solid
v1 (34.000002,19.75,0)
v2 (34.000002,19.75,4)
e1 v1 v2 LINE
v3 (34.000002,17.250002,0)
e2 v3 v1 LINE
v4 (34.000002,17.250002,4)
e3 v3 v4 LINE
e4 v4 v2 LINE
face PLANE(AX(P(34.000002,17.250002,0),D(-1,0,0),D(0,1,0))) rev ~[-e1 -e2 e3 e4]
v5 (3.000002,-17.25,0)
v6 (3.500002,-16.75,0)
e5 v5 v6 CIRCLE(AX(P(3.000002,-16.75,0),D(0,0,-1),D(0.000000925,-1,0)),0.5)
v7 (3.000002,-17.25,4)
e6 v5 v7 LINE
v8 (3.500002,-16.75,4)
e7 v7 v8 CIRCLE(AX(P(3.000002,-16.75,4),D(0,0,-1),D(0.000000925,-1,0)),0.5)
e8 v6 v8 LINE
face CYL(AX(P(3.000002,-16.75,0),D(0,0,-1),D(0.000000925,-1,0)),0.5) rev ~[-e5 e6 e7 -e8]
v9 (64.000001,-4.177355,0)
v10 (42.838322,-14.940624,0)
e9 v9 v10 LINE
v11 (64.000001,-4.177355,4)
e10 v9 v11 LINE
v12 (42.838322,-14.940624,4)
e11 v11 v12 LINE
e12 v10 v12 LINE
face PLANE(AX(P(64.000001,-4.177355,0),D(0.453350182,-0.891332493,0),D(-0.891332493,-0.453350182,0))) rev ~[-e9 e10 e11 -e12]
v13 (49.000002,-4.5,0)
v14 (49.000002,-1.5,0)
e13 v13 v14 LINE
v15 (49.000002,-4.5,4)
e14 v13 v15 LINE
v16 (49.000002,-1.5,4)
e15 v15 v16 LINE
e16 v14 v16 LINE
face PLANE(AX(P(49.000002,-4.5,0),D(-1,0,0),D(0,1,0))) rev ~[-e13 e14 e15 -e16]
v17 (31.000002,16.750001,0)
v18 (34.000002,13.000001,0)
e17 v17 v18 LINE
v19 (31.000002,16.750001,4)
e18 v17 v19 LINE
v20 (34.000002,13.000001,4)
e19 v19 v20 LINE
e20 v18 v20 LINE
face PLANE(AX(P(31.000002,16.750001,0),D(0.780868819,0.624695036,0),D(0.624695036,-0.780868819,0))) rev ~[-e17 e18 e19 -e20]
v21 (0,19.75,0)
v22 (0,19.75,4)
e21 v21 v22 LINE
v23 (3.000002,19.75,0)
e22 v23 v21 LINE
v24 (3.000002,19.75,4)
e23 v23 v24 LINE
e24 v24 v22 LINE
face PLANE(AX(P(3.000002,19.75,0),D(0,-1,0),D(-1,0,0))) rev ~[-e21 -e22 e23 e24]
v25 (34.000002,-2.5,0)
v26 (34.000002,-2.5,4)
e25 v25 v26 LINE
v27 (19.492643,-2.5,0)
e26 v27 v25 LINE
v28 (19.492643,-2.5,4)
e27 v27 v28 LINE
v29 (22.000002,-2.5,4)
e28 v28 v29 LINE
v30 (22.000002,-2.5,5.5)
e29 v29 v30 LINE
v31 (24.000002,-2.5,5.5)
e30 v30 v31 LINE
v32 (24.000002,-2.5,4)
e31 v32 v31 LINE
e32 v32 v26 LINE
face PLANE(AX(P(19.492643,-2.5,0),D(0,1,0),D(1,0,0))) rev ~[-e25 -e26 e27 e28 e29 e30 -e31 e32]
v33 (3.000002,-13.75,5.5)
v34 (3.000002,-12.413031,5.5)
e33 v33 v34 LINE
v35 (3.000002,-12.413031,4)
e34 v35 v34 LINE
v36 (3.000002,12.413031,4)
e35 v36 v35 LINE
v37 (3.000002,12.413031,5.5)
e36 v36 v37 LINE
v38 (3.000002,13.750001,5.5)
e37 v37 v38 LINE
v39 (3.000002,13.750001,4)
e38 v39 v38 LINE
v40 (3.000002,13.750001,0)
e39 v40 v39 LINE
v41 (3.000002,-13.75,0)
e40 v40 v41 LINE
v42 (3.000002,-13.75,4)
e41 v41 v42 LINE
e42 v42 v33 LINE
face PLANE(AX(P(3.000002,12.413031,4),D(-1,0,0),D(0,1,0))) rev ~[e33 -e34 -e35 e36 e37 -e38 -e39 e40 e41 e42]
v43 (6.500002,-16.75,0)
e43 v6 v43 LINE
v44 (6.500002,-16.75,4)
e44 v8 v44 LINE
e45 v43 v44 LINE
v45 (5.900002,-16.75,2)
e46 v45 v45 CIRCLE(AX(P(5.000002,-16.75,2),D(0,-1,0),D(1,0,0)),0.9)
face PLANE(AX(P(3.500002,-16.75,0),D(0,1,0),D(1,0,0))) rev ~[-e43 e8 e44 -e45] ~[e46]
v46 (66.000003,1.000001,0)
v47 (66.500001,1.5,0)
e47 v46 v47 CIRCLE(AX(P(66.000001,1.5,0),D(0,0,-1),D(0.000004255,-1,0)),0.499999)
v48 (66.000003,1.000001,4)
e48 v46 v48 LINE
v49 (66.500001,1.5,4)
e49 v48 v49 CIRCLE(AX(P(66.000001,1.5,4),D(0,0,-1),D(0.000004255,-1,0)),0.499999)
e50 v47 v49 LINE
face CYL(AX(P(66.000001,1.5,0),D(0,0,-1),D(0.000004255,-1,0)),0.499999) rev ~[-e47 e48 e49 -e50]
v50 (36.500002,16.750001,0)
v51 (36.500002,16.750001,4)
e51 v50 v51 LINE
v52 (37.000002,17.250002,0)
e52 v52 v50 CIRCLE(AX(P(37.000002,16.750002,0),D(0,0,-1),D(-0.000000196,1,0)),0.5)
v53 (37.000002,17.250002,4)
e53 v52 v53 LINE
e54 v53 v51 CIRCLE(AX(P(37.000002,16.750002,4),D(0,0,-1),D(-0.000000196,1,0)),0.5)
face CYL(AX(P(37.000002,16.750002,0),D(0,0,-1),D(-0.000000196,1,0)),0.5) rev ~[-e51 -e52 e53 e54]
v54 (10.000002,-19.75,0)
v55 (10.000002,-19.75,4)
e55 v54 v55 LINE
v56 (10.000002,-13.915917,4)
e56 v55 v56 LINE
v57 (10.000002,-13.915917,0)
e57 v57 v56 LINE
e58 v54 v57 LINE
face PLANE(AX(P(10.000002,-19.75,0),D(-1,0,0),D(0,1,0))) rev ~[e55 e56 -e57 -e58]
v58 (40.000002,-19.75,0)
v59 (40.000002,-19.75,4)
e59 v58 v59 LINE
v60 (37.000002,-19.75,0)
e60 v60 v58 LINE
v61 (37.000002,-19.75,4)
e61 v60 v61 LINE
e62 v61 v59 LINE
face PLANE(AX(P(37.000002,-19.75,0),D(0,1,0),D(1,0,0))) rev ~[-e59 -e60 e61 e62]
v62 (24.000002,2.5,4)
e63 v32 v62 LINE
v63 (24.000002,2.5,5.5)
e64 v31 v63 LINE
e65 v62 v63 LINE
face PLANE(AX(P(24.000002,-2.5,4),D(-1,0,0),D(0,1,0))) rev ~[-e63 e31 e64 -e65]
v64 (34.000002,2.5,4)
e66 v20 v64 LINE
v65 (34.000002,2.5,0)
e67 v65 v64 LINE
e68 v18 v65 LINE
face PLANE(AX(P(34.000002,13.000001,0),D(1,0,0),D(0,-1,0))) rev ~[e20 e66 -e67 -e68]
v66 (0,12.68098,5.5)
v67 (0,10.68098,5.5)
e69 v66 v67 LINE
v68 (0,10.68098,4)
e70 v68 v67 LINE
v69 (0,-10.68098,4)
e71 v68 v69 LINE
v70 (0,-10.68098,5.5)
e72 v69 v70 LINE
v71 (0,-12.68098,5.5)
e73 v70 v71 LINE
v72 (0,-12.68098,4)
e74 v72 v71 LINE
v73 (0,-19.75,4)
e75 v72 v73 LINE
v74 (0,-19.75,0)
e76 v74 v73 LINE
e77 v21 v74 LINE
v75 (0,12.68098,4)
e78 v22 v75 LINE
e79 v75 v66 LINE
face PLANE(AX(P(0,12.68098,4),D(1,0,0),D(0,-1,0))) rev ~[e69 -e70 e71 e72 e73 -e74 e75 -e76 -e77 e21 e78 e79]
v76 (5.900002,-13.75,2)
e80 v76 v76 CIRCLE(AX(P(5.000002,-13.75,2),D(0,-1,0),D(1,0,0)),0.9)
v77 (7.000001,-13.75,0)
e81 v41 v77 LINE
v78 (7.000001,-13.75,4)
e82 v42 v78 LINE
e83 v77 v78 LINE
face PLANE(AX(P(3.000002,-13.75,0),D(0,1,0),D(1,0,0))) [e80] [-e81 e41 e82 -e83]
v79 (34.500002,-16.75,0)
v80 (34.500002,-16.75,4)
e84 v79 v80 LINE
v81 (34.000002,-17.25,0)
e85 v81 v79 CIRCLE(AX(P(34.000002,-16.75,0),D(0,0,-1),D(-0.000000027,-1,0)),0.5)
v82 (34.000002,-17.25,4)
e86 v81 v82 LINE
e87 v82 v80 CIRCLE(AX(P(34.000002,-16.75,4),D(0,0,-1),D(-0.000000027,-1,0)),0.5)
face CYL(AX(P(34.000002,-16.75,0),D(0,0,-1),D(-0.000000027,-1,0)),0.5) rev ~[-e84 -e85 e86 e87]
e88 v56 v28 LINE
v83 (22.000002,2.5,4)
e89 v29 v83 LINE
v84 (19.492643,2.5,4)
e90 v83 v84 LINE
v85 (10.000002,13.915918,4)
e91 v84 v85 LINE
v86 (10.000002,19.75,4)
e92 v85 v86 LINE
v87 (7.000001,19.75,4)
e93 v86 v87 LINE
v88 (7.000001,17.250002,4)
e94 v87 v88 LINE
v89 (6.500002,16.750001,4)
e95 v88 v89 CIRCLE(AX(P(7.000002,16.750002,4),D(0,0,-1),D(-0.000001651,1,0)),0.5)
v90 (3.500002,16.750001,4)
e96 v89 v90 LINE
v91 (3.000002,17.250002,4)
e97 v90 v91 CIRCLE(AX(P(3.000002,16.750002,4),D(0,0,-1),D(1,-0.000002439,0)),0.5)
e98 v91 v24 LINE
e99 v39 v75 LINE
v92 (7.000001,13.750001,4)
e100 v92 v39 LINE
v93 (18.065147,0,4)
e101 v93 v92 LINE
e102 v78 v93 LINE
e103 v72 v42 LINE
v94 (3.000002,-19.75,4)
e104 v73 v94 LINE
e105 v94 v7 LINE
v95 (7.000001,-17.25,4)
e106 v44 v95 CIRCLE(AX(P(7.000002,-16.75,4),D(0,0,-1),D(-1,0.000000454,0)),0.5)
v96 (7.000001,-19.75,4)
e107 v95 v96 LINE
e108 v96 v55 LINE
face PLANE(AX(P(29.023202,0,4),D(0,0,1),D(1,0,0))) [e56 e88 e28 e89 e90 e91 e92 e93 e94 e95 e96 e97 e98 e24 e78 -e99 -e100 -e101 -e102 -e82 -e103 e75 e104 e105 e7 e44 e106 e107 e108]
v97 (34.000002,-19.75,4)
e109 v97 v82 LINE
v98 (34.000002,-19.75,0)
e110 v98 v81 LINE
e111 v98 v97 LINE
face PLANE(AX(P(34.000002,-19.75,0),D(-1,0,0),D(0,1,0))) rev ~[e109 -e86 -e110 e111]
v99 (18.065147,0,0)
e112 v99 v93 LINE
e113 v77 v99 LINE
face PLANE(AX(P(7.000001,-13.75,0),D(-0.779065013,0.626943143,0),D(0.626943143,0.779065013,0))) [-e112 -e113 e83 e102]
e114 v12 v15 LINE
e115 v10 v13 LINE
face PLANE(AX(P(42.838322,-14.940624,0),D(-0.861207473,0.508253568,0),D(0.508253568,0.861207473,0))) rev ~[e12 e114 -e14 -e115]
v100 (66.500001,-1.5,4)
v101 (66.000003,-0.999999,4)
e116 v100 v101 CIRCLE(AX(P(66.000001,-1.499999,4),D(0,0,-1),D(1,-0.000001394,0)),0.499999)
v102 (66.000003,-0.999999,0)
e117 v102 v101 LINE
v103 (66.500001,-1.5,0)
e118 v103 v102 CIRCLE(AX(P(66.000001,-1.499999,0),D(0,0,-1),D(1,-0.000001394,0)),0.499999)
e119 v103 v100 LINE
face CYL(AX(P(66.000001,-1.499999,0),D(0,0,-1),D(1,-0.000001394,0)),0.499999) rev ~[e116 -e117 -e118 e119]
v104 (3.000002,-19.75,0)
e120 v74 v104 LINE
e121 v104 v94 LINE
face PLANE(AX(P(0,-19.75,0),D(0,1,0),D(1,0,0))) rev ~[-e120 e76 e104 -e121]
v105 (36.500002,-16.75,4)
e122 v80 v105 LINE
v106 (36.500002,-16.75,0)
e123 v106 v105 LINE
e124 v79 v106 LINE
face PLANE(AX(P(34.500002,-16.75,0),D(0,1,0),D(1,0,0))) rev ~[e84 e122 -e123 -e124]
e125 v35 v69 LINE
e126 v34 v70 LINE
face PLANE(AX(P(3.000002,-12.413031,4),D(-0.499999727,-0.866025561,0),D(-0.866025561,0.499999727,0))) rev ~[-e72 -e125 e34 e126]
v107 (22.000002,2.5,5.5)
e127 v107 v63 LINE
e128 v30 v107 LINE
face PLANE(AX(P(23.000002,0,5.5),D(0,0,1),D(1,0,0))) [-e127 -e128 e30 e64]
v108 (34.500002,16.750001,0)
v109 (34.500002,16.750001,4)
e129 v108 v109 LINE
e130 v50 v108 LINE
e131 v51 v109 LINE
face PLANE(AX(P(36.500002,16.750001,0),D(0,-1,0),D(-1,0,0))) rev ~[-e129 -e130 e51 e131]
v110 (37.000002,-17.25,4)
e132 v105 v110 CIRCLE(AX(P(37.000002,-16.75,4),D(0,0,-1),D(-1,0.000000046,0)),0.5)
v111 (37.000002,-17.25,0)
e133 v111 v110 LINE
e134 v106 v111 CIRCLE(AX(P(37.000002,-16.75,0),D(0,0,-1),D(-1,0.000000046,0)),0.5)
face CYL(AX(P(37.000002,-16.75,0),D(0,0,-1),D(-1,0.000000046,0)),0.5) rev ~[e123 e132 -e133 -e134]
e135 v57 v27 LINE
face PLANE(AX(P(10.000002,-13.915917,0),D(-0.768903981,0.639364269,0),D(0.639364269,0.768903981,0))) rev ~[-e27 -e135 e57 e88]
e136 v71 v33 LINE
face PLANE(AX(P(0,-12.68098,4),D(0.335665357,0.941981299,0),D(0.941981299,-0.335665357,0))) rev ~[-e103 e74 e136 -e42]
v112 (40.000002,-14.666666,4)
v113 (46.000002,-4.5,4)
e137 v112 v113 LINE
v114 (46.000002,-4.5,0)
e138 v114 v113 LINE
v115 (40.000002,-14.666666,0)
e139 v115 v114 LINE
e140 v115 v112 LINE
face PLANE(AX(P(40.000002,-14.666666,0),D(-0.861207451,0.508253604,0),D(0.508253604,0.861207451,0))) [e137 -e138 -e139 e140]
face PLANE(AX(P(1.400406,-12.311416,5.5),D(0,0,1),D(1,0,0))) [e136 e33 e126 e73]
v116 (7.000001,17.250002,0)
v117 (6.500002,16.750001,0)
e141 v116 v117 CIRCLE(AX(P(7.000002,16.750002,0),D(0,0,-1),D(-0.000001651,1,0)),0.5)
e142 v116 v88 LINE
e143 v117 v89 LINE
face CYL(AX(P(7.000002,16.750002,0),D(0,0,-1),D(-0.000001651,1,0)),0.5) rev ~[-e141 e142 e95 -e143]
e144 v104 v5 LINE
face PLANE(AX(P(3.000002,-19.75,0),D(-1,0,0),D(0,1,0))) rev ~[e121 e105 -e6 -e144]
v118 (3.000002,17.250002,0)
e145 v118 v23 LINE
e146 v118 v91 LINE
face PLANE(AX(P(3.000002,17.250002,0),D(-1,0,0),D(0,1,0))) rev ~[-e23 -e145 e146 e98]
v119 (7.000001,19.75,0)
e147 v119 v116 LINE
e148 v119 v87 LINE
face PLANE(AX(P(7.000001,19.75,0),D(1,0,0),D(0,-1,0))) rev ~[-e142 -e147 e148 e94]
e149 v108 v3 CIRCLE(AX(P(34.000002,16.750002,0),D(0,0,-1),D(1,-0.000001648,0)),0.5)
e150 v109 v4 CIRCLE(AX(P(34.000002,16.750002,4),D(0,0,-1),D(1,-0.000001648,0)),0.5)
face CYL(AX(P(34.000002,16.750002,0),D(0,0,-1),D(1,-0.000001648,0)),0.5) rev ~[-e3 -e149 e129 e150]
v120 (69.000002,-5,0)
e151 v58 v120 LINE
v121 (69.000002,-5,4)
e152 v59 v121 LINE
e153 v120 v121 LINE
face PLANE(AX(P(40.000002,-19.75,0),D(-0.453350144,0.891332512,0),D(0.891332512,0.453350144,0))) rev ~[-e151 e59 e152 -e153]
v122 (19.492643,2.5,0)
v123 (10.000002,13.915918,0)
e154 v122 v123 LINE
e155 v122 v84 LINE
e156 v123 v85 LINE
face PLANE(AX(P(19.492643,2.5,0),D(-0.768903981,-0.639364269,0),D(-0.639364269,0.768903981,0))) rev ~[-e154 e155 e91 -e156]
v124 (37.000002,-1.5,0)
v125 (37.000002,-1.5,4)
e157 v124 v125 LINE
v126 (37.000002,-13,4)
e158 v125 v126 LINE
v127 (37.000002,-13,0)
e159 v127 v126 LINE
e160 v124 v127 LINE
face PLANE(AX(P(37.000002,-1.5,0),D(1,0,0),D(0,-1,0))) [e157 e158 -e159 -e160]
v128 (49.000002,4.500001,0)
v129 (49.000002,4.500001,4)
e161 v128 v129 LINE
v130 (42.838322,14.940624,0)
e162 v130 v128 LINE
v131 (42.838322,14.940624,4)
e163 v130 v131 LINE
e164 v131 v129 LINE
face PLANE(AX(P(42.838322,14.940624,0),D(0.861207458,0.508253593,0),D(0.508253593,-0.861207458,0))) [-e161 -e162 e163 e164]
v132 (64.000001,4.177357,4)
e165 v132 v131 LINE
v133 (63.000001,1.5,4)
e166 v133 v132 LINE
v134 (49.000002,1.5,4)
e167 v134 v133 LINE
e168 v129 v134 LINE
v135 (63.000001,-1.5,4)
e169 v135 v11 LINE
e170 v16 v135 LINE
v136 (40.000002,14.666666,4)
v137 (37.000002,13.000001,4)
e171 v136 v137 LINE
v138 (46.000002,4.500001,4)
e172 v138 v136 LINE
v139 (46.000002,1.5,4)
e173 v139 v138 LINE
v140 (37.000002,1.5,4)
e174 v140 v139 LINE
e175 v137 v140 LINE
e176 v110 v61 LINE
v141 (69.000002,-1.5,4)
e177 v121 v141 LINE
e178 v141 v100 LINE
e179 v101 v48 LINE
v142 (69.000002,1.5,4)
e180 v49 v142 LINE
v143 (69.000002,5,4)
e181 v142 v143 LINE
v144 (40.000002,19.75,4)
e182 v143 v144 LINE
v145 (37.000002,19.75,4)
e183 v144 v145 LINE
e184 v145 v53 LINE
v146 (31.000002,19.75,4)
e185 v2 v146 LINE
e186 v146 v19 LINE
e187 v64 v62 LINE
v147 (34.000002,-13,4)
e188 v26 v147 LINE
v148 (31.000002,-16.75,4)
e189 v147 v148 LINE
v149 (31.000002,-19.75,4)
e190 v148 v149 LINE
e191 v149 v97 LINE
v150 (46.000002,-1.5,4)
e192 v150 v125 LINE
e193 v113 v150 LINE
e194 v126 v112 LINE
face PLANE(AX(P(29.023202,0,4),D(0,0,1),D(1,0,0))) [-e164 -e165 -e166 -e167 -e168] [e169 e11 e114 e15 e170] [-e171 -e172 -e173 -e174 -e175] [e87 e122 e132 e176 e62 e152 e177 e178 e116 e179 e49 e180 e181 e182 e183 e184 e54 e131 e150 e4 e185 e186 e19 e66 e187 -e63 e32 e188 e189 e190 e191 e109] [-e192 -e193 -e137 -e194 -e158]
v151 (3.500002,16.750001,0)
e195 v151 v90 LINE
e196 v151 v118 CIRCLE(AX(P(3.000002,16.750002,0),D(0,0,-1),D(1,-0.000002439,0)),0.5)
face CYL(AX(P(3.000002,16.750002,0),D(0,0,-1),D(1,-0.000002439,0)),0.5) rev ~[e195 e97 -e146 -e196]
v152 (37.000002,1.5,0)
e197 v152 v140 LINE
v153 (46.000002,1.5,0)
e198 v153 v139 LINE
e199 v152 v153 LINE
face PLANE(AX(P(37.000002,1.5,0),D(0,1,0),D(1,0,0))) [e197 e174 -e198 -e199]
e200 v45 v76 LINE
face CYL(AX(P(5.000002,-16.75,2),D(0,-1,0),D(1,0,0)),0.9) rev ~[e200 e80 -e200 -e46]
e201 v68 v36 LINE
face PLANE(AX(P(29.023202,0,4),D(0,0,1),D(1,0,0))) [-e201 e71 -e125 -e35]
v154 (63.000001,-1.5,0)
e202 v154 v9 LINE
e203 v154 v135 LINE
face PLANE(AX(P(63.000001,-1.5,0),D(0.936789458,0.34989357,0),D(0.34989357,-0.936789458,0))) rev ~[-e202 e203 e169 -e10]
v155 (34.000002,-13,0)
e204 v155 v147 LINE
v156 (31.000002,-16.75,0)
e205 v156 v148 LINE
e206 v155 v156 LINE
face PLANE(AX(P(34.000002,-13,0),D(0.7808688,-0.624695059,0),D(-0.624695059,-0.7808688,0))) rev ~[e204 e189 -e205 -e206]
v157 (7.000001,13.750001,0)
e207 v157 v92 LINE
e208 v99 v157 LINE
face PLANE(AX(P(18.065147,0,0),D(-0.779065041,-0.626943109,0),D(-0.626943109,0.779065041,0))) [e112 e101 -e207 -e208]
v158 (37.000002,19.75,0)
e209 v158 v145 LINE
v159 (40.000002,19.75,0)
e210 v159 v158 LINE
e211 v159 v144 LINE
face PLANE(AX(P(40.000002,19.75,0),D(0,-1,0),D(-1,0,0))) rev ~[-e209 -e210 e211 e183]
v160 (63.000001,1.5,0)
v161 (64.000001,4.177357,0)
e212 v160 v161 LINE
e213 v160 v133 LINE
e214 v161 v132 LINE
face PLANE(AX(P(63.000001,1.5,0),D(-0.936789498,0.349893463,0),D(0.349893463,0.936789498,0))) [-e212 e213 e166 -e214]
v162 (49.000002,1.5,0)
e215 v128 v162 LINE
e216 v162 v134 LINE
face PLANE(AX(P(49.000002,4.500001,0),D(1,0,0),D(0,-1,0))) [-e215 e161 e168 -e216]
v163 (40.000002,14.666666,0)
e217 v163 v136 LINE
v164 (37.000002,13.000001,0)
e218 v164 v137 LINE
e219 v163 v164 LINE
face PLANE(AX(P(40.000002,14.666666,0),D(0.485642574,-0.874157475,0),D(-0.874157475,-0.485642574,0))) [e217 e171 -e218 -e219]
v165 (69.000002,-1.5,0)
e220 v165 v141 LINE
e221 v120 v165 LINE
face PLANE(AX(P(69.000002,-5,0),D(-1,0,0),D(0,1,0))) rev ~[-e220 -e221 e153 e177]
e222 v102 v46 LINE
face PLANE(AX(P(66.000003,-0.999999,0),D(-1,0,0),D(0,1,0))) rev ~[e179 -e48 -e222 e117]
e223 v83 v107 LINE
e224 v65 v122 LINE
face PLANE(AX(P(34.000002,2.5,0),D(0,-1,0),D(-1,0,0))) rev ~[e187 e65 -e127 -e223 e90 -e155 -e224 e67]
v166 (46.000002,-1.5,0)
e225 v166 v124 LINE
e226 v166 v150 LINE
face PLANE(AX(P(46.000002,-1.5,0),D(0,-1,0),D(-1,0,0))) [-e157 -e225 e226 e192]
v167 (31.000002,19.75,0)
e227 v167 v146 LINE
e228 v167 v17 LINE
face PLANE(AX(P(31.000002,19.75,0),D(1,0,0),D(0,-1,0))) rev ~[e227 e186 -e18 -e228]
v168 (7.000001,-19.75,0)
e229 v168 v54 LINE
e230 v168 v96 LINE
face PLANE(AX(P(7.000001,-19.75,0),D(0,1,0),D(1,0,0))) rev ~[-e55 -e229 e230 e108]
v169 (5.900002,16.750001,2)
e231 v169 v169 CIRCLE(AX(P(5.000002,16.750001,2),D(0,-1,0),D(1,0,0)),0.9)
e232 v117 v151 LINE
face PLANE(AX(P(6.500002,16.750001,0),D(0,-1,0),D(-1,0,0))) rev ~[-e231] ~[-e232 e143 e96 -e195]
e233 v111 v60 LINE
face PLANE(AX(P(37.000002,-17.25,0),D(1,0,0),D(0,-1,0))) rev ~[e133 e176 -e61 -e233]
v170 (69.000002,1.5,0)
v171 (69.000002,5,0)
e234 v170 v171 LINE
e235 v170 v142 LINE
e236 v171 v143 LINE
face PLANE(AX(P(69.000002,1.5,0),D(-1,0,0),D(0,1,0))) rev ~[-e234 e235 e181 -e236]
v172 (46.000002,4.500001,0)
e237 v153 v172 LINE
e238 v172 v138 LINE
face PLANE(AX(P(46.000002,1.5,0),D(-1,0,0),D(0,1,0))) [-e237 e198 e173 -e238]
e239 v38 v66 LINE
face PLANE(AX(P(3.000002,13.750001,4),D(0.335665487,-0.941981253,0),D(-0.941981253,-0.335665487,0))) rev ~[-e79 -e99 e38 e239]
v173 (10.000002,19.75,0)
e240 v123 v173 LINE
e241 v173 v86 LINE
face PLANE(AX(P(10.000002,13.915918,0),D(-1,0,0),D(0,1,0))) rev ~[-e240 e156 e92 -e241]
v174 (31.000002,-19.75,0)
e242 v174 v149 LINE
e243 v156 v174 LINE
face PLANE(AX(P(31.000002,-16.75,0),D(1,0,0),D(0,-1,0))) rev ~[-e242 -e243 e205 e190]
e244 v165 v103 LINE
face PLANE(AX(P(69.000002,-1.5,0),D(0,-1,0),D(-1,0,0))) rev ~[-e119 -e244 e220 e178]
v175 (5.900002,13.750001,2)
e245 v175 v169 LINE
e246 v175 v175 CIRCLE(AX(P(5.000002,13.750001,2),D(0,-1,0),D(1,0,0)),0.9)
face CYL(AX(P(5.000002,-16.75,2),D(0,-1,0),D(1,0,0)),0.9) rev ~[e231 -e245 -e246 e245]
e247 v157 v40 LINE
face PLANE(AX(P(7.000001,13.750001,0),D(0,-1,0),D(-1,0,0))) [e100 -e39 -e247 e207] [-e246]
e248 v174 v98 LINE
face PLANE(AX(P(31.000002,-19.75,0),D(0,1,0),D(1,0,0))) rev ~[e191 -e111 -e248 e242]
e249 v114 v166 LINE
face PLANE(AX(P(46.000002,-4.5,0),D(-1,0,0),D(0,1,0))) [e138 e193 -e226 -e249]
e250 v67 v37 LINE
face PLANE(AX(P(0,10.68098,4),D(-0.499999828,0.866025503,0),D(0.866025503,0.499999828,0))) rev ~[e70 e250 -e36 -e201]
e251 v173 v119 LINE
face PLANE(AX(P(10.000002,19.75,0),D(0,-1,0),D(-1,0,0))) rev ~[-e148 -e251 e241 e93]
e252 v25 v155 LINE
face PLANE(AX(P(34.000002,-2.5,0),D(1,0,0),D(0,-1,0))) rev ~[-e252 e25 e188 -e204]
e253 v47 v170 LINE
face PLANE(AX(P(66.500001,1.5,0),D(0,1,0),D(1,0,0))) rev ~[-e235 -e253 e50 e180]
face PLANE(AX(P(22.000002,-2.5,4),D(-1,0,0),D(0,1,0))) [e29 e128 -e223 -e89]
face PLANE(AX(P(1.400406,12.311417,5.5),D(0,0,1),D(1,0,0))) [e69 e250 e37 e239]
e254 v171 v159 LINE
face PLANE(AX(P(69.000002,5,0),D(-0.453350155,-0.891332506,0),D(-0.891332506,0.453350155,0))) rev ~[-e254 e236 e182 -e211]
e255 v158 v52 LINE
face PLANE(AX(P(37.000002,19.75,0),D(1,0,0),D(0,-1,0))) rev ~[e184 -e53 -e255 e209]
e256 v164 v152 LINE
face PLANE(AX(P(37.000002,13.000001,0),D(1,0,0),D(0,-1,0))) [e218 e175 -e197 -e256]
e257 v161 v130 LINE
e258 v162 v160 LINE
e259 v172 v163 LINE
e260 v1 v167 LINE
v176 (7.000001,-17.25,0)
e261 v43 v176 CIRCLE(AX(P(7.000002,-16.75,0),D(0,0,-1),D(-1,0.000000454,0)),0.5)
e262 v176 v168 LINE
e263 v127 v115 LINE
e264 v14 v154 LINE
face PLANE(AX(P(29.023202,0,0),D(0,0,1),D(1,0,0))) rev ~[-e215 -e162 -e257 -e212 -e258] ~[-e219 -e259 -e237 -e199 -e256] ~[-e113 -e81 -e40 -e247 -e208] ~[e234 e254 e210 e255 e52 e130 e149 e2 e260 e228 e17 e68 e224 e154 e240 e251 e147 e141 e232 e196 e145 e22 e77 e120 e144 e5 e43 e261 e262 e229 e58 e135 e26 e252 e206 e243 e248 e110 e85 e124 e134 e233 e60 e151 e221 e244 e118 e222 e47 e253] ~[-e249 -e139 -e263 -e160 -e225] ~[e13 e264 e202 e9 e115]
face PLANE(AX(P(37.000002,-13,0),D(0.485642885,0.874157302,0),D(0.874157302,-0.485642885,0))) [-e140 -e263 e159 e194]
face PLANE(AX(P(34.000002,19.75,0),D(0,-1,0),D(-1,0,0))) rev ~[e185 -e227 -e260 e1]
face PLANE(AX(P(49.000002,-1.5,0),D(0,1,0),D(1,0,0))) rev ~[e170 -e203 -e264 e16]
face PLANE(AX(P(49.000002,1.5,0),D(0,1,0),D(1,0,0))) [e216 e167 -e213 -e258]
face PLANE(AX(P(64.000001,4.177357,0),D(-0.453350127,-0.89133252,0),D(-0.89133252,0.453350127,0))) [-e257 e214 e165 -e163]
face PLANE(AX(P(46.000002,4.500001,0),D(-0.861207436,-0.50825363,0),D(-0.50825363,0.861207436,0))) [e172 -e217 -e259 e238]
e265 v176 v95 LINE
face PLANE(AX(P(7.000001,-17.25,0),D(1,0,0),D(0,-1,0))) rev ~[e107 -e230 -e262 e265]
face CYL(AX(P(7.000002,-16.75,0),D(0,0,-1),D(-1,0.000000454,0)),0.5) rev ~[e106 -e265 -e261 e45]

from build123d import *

# Parameters (mm, degrees)
EXTRUDE_1_DEPTH     = 4
SKETCH_2_R          = 0.9
CUT_EXTRUDE_1_DEPTH = 52
SKETCH_3_W          = 2.000000328
SKETCH_3_H          = 4.999999888
EXTRUDE_2_DEPTH     = 1.5


with BuildPart() as part:
    # 草图1 → 凸台-拉伸1 (new body)
    with BuildSketch(Plane.XY):
        with BuildLine():
            Line((66.000003368, -0.999999465), (66.000003368, 1.000000862))
            ThreePointArc((66.000003368, 1.000000862), (65.646447605, 1.853552596), (66.500000656, 1.500000013))
            Line((66.500000656, 1.500000013), (69.000001997, 1.500000013))
            Line((69.000001997, 1.500000013), (69.000001997, 4.999999655))
            Line((69.000001997, 4.999999655), (40.0000019, 19.749999745))
            Line((40.0000019, 19.749999745), (37.000001874, 19.749999745))
            Line((37.000001874, 19.749999745), (37.000001874, 17.250002129))
            ThreePointArc((37.000001874, 17.250002129), (37.353555819, 16.396448761), (36.500001792, 16.750001116))
            Line((36.500001792, 16.750001116), (34.500001871, 16.750001116))
            ThreePointArc((34.500001871, 16.750001116), (33.646447808, 16.396448765), (34.000001848, 17.250002129))
            Line((34.000001848, 17.250002129), (34.000001848, 19.749999745))
            Line((34.000001848, 19.749999745), (31.000001822, 19.749999745))
            Line((31.000001822, 19.749999745), (31.000001822, 16.750001116))
            Line((31.000001822, 16.750001116), (34.000001848, 13.000000967))
            Line((34.000001848, 13.000000967), (34.000001848, 2.500000177))
            Line((34.000001848, 2.500000177), (19.492642954, 2.500000177))
            Line((19.492642954, 2.500000177), (10.000001639, 13.915917603))
            Line((10.000001639, 13.915917603), (10.000001639, 19.749999745))
            Line((10.000001639, 19.749999745), (7.000001147, 19.749999745))
            Line((7.000001147, 19.749999745), (7.000001147, 17.250002129))
            ThreePointArc((7.000001147, 17.250002129), (7.353556004, 16.396449439), (6.500001997, 16.750001116))
            Line((6.500001997, 16.750001116), (3.500001505, 16.750001116))
            ThreePointArc((3.500001505, 16.750001116), (2.646447808, 16.396449749), (3.000002354, 17.250002129))
            Line((3.000002354, 17.250002129), (3.000002354, 19.749999745))
            Line((3.000002354, 19.749999745), (0, 19.749999745))
            Line((0, 19.749999745), (0, -19.749999745))
            Line((0, -19.749999745), (3.000002354, -19.749999745))
            Line((3.000002354, -19.749999745), (3.000002354, -17.249999742))
            ThreePointArc((3.000002354, -17.249999742), (2.646448465, -16.39644732), (3.500001505, -16.749999719))
            Line((3.500001505, -16.749999719), (6.500001997, -16.749999719))
            ThreePointArc((6.500001997, -16.749999719), (7.353555348, -16.396447009), (7.000001147, -17.249999742))
            Line((7.000001147, -17.249999742), (7.000001147, -19.749999745))
            Line((7.000001147, -19.749999745), (10.000001639, -19.749999745))
            Line((10.000001639, -19.749999745), (10.000001639, -13.915917138))
            Line((10.000001639, -13.915917138), (19.492642954, -2.499999711))
            Line((19.492642954, -2.499999711), (34.000001848, -2.499999711))
            Line((34.000001848, -2.499999711), (34.000001848, -12.999999803))
            Line((34.000001848, -12.999999803), (31.000001822, -16.749999719))
            Line((31.000001822, -16.749999719), (31.000001822, -19.749999745))
            Line((31.000001822, -19.749999745), (34.000001848, -19.749999745))
            Line((34.000001848, -19.749999745), (34.000001848, -17.249999742))
            ThreePointArc((34.000001848, -17.249999742), (33.646448464, -16.396446335), (34.500001871, -16.749999719))
            Line((34.500001871, -16.749999719), (36.500001792, -16.749999719))
            ThreePointArc((36.500001792, -16.749999719), (37.353555162, -16.396446331), (37.000001874, -17.249999742))
            Line((37.000001874, -17.249999742), (37.000001874, -19.749999745))
            Line((37.000001874, -19.749999745), (40.0000019, -19.749999745))
            Line((40.0000019, -19.749999745), (69.000001997, -5.000000121))
            Line((69.000001997, -5.000000121), (69.000001997, -1.499999547))
            Line((69.000001997, -1.499999547), (66.500000656, -1.499999547))
            ThreePointArc((66.500000656, -1.499999547), (65.646447327, -1.853550818), (66.000003368, -0.999999465))
        make_face()
        Polygon((37.000001874, 13.000000967), (37.000001874, 1.500000013), (46.000001952, 1.500000013), (46.000001952, 4.500000505), (40.0000019, 14.666666044), align=None, mode=Mode.SUBTRACT)
        Polygon((42.838321999, -14.940624125), (49.000001512, -4.500000039), (49.000001512, -1.499999547), (63.000001013, -1.499999547), (64.000001177, -4.17735544), align=None, mode=Mode.SUBTRACT)
        Polygon((46.000001952, -1.499999547), (37.000001874, -1.499999547), (37.000001874, -12.999999803), (40.0000019, -14.666666277), (46.000001952, -4.500000039), align=None, mode=Mode.SUBTRACT)
        Polygon((63.000001013, 1.500000013), (64.000001177, 4.177356837), (42.838321999, 14.940623892), (49.000001512, 4.500000505), (49.000001512, 1.500000013), align=None, mode=Mode.SUBTRACT)
        Polygon((3.000002354, -13.749999693), (7.000001147, -13.749999693), (18.065146907, -1.59e-07), (7.000001147, 13.750000624), (3.000002354, 13.750000624), align=None, mode=Mode.SUBTRACT)
    extrude(amount=EXTRUDE_1_DEPTH)

    # 草图2 → 切除-拉伸1 (cut)
    with BuildSketch(Plane.XZ.offset(16.749999719)):
        with Locations((5.000002354, 2)):
            Circle(SKETCH_2_R)
    extrude(amount=-CUT_EXTRUDE_1_DEPTH, mode=Mode.SUBTRACT)

    # 草图3 → 凸台-拉伸2 (add)
    with BuildSketch(Plane.XY.offset(4)):
        Polygon((3.000002354, 12.413031189), (3.000002354, 13.750000624), (0, 12.680980144), (0, 10.680979816), align=None)
        with Locations((23.000001907, 2.33e-07)):
            Rectangle(SKETCH_3_W, SKETCH_3_H)
        Polygon((3.000002354, -13.749999693), (3.000002354, -12.413030723), (0, -10.680979816), (0, -12.680979678), align=None)
    extrude(amount=EXTRUDE_2_DEPTH)


solid = part.part
